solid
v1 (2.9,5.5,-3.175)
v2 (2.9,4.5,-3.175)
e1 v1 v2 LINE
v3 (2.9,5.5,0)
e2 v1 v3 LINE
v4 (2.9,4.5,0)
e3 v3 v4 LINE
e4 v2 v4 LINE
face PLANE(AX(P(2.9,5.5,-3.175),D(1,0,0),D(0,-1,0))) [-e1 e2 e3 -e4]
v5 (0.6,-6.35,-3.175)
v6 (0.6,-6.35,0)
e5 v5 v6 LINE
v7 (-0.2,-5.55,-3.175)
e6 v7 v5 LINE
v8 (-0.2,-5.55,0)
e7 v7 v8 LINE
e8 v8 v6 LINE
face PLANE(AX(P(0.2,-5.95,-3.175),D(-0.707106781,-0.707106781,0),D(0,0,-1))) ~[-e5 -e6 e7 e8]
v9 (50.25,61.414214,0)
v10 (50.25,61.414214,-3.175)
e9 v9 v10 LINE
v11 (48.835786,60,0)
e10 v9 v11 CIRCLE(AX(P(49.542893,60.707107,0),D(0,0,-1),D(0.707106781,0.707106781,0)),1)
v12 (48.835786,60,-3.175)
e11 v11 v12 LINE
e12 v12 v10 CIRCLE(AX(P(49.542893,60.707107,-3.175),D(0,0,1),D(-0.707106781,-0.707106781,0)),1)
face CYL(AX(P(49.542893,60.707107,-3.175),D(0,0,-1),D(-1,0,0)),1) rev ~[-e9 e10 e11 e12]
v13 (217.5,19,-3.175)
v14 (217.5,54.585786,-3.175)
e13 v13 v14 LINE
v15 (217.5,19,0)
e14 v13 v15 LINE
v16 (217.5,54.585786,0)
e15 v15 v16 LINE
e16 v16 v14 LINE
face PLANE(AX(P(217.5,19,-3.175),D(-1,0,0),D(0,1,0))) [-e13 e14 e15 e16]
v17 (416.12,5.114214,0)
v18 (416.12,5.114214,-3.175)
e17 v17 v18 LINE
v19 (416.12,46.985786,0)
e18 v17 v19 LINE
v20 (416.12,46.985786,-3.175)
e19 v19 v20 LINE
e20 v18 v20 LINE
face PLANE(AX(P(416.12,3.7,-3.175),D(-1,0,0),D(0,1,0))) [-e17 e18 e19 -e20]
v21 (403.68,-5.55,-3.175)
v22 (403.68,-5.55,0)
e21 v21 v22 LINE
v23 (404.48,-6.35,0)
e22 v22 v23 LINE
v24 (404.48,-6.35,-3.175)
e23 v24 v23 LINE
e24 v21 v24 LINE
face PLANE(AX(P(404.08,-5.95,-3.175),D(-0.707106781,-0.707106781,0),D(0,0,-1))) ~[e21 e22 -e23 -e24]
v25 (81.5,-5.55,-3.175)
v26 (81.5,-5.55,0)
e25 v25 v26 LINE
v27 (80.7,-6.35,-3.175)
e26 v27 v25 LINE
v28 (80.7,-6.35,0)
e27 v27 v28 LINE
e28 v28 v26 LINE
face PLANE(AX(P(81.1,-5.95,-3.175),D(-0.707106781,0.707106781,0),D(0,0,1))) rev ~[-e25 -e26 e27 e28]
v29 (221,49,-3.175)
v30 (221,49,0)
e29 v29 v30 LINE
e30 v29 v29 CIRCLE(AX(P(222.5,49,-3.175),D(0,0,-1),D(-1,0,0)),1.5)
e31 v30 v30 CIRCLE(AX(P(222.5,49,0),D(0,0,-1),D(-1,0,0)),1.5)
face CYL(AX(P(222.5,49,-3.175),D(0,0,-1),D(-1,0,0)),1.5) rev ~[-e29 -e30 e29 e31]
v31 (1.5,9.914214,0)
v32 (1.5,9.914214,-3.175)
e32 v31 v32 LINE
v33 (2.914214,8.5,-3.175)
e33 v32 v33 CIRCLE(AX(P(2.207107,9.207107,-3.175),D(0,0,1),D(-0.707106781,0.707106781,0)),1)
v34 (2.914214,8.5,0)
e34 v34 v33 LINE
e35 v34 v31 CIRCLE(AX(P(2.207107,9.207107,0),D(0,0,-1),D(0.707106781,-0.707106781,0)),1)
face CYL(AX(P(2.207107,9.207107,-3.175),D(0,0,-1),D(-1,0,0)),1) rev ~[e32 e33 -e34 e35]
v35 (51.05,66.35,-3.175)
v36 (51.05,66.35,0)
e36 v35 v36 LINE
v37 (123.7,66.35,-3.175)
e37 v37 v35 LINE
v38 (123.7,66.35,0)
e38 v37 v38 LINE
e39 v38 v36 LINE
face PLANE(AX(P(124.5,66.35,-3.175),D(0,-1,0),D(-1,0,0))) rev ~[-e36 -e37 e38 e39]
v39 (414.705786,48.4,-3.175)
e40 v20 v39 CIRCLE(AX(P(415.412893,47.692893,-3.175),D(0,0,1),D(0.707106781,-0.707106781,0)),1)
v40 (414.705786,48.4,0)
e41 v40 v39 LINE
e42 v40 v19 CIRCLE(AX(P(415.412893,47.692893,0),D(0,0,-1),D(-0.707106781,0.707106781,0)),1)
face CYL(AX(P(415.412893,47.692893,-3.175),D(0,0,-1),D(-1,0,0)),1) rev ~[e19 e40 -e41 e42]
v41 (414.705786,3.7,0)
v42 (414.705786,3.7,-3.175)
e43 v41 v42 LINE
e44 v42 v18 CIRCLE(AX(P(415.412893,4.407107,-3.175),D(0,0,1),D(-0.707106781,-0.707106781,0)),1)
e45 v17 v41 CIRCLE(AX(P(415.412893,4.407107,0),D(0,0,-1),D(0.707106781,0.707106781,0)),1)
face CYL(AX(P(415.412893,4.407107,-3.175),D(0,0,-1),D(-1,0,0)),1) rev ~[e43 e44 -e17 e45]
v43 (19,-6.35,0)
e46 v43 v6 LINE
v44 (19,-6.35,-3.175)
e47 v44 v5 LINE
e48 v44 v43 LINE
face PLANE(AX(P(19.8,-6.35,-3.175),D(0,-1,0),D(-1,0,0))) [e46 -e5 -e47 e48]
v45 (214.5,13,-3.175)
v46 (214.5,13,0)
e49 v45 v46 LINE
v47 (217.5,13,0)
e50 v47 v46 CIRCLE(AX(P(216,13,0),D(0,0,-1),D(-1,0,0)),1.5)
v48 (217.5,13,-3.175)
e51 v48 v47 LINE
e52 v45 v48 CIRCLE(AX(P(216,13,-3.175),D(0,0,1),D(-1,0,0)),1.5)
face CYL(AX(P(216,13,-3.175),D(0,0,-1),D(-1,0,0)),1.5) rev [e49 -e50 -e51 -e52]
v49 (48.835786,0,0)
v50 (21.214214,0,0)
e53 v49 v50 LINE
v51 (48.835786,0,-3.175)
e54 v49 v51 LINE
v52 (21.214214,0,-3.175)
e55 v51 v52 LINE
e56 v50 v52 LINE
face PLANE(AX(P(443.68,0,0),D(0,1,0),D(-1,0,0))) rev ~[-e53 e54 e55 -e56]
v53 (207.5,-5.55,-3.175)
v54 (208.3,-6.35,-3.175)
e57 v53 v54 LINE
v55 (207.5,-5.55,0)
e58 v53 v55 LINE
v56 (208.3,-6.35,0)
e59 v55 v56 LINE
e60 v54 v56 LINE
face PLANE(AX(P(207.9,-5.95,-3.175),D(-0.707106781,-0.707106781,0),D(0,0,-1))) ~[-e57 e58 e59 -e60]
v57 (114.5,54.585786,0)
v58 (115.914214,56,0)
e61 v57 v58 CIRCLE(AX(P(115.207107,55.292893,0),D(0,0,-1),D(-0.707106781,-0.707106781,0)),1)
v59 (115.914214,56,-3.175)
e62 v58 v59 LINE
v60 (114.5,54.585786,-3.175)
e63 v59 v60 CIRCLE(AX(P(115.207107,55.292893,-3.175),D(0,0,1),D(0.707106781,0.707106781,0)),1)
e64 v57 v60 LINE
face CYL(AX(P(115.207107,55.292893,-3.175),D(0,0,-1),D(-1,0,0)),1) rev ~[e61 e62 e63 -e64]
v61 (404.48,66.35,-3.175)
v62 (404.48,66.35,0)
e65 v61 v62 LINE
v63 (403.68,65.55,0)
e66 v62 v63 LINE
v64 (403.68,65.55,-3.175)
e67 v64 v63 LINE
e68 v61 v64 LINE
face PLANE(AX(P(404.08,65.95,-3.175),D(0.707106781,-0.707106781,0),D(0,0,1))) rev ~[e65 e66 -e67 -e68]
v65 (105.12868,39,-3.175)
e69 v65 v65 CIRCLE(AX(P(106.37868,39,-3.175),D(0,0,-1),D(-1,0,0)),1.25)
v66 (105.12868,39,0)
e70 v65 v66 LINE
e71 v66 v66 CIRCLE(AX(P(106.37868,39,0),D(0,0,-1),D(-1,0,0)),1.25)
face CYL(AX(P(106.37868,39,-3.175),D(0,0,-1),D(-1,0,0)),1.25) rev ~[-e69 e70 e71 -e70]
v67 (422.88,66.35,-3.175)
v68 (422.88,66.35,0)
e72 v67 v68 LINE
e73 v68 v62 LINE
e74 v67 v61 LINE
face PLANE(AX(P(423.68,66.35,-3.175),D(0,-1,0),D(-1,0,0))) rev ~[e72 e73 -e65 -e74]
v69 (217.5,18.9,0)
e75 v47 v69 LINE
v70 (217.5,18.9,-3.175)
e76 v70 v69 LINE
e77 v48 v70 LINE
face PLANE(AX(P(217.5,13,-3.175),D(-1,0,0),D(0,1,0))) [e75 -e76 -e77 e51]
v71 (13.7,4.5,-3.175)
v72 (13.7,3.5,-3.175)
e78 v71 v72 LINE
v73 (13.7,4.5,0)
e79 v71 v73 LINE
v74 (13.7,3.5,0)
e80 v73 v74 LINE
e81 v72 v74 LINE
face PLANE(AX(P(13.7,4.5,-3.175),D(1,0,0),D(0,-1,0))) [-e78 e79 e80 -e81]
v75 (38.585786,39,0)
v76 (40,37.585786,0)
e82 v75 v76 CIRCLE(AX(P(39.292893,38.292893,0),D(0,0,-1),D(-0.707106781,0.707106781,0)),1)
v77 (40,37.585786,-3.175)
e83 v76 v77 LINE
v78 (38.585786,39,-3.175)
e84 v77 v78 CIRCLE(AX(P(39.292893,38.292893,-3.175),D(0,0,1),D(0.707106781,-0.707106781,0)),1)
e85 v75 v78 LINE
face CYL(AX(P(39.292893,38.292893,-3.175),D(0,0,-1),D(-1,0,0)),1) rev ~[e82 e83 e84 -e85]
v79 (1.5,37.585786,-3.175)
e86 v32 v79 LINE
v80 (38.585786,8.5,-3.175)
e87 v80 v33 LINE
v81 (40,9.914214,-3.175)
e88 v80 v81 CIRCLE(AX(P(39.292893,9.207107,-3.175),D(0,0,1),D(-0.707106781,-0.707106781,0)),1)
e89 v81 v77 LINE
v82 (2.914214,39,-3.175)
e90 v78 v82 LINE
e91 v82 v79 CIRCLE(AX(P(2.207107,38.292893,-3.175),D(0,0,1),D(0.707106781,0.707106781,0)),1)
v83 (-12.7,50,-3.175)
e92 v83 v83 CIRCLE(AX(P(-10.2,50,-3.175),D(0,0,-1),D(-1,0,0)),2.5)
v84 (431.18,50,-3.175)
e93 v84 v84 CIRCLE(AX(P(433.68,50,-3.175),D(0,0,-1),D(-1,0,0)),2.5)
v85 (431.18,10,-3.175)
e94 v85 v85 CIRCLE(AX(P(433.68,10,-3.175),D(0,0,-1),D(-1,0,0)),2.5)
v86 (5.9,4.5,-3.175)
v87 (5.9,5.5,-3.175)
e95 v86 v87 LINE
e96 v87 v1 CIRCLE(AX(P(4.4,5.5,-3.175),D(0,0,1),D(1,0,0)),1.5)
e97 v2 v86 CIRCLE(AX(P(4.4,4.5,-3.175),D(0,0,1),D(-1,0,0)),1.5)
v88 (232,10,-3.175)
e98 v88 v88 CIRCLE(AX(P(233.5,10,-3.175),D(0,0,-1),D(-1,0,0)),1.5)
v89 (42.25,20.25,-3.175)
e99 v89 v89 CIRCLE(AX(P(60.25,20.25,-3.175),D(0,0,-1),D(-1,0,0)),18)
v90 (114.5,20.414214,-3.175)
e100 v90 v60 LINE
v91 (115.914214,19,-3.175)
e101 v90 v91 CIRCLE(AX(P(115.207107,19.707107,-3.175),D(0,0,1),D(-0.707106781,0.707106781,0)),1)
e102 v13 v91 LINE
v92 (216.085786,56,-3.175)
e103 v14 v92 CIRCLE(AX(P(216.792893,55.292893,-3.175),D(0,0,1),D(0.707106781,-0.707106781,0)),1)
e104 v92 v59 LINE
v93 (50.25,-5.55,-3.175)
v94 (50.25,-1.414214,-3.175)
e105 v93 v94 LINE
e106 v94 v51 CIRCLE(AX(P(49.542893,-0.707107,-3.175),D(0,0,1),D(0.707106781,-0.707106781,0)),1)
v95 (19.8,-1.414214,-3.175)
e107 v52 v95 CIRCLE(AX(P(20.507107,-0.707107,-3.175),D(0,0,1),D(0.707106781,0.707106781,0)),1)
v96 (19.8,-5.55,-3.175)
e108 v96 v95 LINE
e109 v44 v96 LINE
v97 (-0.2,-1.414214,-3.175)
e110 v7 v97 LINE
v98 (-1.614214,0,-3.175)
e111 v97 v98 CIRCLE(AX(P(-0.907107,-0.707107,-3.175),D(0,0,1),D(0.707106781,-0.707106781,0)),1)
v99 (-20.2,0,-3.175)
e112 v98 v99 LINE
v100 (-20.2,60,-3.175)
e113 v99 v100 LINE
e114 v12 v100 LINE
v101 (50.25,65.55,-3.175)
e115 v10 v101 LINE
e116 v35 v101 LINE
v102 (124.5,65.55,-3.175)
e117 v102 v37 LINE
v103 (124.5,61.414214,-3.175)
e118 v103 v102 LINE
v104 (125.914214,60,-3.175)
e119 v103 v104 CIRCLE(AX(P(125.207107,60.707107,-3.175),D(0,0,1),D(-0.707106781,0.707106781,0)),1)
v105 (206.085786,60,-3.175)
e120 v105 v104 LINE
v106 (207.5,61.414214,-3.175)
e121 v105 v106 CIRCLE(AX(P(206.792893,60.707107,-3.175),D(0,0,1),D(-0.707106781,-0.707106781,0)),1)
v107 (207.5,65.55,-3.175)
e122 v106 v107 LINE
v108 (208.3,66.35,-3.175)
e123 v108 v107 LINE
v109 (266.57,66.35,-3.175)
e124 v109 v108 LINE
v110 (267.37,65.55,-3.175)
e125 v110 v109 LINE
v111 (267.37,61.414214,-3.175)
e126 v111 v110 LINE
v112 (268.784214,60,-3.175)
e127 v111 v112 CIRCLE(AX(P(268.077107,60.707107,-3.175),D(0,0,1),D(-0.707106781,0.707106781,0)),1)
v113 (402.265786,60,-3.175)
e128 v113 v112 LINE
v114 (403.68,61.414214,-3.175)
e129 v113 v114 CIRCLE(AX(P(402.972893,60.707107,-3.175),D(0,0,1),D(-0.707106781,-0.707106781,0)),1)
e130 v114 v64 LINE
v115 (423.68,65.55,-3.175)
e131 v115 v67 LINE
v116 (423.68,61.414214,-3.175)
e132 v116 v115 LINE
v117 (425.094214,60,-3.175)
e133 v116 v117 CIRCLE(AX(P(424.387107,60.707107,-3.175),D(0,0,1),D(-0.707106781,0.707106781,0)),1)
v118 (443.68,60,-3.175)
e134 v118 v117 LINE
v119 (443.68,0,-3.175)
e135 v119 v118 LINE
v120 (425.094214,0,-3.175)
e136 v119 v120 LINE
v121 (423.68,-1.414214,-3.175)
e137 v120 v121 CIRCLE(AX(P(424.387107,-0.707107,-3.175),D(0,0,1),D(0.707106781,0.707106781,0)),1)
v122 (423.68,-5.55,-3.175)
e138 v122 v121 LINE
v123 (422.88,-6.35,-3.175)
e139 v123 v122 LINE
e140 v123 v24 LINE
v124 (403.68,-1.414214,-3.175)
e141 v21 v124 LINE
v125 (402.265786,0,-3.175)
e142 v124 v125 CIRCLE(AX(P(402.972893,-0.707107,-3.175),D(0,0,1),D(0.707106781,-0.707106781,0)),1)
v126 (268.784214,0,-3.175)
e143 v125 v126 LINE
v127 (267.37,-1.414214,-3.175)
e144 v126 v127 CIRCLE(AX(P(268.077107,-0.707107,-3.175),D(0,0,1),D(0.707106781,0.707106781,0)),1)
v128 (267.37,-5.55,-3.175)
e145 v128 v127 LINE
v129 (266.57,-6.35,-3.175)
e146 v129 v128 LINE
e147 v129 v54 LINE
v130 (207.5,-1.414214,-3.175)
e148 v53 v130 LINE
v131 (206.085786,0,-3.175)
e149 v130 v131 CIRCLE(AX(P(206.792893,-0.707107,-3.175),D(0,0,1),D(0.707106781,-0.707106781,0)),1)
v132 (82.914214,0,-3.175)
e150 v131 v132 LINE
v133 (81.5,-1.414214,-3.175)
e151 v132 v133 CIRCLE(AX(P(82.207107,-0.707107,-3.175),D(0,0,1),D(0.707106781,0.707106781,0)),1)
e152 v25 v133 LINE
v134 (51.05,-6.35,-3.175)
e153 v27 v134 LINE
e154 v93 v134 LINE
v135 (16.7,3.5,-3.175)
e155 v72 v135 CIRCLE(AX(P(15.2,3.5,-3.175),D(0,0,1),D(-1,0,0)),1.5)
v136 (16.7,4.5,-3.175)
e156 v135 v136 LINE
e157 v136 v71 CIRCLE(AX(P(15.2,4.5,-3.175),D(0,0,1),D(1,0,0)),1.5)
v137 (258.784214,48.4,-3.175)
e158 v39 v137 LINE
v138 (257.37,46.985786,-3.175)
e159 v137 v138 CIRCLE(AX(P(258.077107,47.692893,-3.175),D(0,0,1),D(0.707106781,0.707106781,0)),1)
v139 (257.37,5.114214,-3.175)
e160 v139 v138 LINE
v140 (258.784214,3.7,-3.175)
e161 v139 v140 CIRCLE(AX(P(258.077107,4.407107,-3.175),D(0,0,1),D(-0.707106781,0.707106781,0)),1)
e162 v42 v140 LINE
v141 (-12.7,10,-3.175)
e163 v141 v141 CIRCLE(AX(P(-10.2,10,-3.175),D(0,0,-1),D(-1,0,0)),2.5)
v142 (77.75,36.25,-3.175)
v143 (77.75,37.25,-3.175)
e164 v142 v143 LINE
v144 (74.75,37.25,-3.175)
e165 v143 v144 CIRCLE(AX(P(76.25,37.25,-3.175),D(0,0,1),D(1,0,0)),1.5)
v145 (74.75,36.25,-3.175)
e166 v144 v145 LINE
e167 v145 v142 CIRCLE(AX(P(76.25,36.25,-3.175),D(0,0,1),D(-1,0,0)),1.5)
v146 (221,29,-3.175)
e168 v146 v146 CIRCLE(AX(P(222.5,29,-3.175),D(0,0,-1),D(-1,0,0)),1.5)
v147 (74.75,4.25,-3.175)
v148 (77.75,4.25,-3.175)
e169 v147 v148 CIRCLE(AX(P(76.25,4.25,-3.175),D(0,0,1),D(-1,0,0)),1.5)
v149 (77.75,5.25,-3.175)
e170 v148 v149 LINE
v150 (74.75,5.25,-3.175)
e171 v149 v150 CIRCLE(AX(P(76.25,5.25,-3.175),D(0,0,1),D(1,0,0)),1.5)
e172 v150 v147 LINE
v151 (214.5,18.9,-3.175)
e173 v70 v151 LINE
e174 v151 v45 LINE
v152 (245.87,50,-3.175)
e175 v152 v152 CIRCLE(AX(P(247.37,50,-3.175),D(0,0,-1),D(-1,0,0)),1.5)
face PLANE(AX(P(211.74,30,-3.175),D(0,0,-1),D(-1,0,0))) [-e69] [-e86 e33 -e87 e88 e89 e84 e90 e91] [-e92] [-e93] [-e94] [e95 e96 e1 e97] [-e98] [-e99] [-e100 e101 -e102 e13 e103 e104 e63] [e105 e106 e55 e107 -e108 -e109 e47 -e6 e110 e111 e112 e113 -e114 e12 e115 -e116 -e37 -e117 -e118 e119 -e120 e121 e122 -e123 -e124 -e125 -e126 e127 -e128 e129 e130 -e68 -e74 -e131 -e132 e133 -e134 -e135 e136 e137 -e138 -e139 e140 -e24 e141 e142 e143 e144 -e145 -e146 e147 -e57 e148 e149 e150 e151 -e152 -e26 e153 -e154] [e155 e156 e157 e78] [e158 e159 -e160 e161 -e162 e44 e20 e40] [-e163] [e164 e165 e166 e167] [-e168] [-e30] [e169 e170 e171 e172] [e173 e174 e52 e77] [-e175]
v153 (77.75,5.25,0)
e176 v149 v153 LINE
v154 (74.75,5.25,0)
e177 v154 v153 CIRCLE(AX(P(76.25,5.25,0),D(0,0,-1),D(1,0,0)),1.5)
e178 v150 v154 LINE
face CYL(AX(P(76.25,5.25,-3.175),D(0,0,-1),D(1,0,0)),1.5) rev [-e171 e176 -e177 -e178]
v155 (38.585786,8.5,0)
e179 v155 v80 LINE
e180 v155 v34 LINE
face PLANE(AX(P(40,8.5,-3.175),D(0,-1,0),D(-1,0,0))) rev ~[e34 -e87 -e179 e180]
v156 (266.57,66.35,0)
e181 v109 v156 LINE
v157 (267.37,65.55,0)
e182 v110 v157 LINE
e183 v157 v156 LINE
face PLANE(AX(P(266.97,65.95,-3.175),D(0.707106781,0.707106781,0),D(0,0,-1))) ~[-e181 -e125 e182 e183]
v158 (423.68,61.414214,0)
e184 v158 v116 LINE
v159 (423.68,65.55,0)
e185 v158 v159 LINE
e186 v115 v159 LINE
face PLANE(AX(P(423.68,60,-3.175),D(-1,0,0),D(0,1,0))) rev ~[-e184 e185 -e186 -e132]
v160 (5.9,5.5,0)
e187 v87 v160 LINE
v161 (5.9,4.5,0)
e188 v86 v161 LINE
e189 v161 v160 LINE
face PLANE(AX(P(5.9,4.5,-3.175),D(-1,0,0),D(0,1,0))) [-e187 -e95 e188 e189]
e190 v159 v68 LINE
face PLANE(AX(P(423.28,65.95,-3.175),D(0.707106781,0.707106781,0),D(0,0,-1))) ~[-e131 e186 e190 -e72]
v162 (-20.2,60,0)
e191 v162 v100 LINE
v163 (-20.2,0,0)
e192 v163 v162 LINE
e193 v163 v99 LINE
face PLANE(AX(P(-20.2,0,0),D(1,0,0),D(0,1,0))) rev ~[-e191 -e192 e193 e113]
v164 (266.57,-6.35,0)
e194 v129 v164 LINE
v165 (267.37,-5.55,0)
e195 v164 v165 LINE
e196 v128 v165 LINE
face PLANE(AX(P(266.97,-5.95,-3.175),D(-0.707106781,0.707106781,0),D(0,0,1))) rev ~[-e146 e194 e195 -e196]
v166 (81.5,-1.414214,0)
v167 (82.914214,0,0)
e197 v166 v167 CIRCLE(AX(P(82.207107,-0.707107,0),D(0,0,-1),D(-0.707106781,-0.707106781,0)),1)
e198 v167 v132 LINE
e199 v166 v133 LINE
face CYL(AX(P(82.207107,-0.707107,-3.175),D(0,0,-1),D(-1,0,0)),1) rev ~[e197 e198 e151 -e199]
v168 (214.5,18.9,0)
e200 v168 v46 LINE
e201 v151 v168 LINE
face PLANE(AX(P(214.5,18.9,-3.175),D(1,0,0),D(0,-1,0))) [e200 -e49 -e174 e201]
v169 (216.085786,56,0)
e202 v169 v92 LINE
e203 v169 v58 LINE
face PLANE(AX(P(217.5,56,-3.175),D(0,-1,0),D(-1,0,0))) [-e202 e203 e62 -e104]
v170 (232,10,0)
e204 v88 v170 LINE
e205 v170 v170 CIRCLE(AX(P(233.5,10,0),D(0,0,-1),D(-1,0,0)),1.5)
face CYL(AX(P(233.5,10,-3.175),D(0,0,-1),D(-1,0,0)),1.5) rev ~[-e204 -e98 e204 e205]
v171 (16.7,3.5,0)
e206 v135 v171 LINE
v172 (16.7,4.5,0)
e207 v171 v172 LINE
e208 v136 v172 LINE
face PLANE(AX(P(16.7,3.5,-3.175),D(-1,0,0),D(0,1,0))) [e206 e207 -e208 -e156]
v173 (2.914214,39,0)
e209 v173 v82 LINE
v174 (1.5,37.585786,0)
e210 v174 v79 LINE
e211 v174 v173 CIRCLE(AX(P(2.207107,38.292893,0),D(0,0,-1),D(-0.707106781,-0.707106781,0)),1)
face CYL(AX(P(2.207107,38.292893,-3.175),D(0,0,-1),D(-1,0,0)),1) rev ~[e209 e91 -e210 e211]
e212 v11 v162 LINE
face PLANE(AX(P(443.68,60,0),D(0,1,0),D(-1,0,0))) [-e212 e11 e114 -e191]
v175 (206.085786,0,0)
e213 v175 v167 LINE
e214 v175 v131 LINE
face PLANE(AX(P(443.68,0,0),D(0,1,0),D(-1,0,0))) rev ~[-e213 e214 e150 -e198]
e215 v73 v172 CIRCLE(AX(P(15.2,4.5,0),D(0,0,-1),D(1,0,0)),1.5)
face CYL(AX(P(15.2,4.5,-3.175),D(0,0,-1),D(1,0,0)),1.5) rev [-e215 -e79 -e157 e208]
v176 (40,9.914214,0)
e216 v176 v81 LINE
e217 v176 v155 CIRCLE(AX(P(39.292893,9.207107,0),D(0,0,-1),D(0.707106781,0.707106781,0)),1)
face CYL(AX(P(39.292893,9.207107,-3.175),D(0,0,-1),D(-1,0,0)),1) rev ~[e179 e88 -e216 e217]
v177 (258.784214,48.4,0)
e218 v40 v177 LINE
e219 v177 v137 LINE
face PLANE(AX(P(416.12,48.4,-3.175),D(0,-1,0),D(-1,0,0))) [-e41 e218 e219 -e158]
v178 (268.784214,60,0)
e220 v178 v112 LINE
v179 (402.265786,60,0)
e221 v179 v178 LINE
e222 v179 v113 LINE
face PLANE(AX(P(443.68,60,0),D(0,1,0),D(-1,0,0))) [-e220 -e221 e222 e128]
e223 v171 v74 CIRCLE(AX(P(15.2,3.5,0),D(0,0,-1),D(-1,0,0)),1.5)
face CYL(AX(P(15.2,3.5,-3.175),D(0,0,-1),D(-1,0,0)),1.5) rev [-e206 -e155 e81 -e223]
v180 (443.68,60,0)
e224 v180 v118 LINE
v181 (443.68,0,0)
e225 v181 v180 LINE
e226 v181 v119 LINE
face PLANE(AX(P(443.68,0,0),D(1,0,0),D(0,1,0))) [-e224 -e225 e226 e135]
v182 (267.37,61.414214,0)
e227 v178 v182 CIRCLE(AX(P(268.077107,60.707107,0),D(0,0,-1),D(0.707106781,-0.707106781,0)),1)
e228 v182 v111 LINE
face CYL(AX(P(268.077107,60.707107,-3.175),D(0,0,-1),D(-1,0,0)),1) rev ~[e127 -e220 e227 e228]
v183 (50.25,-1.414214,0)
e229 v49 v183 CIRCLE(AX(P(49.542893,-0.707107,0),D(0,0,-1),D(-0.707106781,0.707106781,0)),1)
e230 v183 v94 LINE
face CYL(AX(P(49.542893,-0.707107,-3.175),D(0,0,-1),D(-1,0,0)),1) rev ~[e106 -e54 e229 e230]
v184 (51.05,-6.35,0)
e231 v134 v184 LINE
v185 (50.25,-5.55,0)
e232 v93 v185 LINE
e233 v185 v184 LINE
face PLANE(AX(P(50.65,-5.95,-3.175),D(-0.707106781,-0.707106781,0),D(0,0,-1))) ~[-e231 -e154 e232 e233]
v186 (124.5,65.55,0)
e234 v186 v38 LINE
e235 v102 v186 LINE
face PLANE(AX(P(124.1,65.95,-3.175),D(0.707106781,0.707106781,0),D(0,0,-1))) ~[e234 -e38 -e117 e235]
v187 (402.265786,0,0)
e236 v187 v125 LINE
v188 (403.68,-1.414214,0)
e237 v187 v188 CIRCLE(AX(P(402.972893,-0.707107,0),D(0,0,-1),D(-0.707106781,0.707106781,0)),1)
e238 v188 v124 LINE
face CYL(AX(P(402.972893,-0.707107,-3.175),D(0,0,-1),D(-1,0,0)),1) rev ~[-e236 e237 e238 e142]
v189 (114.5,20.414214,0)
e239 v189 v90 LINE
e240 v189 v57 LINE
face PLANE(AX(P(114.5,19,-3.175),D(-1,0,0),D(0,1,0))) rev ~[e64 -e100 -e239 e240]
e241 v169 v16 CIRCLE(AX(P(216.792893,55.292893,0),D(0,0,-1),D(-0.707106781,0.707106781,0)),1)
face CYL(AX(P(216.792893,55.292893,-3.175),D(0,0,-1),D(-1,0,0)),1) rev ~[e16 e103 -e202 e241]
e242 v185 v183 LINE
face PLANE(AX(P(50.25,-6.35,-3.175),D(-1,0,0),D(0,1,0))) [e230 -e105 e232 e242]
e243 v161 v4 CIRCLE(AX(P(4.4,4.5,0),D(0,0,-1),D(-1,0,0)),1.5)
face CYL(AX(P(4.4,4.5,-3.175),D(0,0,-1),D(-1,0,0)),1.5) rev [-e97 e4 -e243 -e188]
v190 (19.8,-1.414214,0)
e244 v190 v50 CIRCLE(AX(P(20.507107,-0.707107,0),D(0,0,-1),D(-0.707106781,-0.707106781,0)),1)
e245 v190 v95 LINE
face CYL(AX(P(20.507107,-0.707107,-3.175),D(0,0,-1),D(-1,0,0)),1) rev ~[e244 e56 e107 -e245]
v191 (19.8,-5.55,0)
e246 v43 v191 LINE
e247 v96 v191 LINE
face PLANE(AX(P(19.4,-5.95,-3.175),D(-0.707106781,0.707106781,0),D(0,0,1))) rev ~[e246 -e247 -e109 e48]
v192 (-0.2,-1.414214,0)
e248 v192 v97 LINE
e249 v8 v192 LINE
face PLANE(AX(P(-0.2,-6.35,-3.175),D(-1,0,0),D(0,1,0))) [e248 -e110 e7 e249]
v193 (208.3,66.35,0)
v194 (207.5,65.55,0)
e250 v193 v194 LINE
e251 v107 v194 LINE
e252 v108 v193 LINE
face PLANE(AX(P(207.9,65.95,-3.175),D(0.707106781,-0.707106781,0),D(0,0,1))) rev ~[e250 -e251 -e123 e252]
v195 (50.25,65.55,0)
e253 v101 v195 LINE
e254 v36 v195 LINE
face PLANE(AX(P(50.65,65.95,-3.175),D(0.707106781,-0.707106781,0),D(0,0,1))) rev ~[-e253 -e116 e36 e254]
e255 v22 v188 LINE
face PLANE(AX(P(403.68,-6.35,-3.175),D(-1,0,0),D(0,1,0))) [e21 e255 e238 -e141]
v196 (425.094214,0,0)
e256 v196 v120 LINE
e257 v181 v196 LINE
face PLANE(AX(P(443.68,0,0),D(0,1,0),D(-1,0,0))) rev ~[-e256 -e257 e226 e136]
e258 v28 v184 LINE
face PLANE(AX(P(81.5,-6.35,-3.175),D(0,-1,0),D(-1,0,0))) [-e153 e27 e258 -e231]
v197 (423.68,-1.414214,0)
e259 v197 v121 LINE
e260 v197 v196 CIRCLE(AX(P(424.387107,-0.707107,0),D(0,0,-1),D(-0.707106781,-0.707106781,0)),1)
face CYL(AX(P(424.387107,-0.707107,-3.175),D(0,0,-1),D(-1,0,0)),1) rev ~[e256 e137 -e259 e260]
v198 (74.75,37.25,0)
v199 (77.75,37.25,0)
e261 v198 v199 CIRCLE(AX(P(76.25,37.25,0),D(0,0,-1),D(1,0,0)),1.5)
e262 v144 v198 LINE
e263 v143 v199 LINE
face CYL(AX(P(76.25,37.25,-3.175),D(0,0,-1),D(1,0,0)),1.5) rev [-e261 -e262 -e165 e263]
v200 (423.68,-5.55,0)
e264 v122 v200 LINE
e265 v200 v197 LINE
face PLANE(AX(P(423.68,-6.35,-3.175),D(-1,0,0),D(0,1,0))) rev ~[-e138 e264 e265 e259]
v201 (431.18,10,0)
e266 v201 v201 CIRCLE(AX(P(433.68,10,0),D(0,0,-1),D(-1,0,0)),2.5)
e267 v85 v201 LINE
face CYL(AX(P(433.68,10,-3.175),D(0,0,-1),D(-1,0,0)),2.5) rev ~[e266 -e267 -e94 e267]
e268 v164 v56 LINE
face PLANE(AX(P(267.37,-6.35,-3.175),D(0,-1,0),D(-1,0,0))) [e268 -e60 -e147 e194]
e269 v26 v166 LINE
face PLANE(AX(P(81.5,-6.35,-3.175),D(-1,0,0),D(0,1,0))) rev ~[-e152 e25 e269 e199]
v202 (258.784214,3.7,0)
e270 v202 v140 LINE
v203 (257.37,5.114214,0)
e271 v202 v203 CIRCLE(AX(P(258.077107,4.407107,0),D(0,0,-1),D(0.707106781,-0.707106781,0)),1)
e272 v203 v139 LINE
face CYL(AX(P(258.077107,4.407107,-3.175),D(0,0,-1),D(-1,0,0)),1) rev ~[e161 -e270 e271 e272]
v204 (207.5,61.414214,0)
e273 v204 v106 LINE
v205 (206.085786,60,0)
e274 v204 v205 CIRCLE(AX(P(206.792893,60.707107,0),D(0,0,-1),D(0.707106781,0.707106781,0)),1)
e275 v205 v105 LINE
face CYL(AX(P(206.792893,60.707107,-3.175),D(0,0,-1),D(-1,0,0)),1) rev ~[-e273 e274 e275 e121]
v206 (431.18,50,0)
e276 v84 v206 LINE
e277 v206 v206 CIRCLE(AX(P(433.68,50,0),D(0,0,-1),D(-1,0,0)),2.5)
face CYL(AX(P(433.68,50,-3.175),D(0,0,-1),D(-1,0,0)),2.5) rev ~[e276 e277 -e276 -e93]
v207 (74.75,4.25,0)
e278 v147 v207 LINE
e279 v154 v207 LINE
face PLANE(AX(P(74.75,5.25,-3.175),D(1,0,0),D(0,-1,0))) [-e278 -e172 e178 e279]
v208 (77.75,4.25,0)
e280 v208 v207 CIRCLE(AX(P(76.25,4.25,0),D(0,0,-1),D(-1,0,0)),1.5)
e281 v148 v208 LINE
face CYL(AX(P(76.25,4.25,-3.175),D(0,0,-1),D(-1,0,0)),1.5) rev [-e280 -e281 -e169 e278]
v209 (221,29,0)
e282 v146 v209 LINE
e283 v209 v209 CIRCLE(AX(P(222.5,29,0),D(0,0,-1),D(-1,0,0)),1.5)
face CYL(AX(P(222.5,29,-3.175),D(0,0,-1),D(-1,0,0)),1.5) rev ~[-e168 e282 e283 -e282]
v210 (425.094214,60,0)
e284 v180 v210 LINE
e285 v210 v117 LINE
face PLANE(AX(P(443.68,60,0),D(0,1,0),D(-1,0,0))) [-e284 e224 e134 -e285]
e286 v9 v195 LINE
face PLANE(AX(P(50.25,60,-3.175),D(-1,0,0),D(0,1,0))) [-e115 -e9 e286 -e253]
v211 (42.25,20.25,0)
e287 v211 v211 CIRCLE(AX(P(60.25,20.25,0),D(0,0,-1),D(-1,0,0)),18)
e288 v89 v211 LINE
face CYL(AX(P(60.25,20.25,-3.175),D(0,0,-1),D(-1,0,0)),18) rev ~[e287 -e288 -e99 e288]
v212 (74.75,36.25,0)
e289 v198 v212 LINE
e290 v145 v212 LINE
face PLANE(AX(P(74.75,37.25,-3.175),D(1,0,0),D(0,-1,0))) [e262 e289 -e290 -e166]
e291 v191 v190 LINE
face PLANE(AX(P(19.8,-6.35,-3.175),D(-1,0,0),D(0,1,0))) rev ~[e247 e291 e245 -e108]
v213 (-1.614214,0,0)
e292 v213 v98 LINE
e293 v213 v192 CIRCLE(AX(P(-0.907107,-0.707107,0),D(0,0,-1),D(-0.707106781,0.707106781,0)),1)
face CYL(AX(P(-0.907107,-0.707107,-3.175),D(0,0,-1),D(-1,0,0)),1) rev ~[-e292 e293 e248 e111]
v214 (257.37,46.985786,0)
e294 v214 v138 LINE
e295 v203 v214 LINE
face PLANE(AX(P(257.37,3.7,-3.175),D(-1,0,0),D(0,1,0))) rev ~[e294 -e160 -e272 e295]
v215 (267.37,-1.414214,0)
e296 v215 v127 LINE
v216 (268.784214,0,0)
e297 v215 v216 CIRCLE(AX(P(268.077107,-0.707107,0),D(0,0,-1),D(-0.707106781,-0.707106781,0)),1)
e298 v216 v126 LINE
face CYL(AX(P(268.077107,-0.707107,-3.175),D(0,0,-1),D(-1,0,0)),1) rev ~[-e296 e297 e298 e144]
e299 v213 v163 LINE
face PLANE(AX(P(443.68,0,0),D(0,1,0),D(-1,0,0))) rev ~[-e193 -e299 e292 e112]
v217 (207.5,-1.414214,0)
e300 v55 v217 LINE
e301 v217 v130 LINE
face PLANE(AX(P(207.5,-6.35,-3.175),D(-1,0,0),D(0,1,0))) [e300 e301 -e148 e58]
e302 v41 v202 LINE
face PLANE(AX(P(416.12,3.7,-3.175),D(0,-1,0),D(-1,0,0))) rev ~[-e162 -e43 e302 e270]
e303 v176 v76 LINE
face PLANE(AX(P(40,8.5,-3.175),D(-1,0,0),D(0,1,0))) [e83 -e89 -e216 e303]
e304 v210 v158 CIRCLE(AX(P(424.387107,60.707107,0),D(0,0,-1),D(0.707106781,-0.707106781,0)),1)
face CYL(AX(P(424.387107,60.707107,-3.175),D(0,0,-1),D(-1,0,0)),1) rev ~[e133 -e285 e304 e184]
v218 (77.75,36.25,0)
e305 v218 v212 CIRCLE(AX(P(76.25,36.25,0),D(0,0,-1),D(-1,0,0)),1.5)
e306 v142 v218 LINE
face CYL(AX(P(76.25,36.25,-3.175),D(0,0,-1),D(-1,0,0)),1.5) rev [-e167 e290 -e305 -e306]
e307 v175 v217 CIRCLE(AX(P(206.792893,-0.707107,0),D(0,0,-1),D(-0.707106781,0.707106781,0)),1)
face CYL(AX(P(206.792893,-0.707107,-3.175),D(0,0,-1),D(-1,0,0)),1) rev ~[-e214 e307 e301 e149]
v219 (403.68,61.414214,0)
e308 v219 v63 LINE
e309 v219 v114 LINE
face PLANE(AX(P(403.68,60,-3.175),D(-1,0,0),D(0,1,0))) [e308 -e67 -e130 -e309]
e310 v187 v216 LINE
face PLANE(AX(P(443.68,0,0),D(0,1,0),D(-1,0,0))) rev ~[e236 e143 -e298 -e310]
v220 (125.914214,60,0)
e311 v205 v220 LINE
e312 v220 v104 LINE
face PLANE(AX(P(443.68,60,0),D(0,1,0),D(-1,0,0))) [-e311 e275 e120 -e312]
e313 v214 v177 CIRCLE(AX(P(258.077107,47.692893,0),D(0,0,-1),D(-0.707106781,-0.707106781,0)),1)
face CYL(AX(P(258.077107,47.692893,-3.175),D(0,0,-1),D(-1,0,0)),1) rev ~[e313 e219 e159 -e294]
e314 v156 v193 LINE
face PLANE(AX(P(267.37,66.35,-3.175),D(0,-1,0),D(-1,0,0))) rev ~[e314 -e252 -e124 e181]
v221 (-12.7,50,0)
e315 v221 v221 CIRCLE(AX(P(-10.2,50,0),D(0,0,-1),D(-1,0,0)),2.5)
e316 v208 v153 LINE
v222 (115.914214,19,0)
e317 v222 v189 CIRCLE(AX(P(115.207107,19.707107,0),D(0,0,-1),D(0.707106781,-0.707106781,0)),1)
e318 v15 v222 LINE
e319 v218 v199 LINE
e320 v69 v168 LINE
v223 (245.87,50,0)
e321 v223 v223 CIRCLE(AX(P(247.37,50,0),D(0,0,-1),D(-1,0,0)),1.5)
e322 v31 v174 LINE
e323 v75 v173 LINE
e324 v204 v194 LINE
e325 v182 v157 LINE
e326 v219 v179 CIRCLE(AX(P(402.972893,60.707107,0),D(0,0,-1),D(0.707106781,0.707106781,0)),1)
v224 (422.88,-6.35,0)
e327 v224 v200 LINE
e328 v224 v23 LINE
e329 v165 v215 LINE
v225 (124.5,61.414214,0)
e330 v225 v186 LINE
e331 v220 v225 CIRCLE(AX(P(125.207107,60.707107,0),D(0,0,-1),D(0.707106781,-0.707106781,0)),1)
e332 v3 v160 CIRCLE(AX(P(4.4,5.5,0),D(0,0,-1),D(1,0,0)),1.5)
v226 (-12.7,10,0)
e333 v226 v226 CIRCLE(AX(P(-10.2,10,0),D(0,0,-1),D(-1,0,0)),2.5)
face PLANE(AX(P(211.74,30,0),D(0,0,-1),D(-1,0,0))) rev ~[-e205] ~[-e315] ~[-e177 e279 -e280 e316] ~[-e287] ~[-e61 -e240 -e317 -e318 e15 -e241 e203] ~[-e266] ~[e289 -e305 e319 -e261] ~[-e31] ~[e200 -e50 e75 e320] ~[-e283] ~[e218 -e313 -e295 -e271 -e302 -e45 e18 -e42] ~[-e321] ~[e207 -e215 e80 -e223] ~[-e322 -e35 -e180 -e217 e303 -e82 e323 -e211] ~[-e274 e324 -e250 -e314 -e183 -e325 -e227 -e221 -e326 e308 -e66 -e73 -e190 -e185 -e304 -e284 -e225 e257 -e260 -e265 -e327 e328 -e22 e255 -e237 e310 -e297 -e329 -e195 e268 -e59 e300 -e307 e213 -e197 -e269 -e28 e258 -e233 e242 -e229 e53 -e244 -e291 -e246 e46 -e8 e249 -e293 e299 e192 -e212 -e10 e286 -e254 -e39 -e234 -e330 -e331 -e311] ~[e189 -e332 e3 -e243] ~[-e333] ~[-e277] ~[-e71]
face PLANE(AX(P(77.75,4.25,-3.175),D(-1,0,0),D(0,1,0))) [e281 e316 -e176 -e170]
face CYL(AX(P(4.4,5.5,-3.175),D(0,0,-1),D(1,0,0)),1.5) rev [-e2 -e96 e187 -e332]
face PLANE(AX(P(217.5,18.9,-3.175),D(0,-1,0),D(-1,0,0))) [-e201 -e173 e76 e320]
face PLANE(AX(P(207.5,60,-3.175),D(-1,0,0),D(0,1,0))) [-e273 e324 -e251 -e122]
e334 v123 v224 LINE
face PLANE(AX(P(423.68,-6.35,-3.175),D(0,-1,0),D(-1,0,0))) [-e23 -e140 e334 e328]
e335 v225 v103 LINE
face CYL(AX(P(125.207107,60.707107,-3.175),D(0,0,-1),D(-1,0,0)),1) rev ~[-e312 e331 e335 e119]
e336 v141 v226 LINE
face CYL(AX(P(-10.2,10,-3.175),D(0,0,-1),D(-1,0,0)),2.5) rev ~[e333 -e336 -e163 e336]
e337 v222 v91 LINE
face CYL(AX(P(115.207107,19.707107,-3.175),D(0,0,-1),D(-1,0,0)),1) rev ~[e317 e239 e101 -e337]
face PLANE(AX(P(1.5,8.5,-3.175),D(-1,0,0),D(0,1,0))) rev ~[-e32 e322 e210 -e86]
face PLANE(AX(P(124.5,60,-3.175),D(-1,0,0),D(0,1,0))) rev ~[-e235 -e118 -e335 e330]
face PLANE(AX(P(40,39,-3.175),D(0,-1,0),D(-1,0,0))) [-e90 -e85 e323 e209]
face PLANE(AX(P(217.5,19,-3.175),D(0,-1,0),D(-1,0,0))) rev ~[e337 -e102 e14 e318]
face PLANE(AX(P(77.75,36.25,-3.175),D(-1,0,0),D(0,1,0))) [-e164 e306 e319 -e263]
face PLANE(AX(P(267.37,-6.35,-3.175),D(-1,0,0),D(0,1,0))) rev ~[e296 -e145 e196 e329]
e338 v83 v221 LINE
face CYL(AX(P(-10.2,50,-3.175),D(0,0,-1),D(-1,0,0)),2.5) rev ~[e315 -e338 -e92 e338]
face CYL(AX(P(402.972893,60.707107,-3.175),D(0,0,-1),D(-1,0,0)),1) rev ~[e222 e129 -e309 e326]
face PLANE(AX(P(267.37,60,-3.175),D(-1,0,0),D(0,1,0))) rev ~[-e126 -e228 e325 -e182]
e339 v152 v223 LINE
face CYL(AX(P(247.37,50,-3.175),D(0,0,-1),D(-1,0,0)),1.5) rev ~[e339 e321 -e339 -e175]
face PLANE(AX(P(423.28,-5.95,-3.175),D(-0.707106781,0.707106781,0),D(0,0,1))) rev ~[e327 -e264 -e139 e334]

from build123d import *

# Parameters (mm, degrees)
SKETCH1_W           = 463.88
SKETCH1_H           = 60
BOSS_EXTRUDE1_DEPTH = 3.175
SKETCH7_R           = 2.5
CUT_EXTRUDE5_DEPTH  = 448.729854963
SKETCH2_R           = 1.25
SKETCH2_R_2         = 1.5
SKETCH2_W           = 103
SKETCH2_H           = 37
CUT_EXTRUDE1_DEPTH  = 448.729854963
SKETCH3_W           = 158.75
SKETCH3_H           = 44.7
CUT_EXTRUDE2_DEPTH  = 448.729854963
SKETCH4_R           = 18
SKETCH4_W           = 38.5
SKETCH4_H           = 30.5
CUT_EXTRUDE3_DEPTH  = 448.729854963
SKETCH5_W           = 31.25
SKETCH5_H           = 6.35
SKETCH5_W_2         = 20
SKETCH5_W_3         = 74.25
SKETCH5_W_4         = 59.87
BOSS_EXTRUDE2_DEPTH = 3.175
SKETCH6_R           = 1.5
CUT_EXTRUDE4_DEPTH  = 449.624949735
SKETCH8_R           = 1
CUT_EXTRUDE7_DEPTH  = 449.624949735
CHAMFER2_SIZE       = 0.8


with BuildPart() as part:
    # Sketch1 → Boss-Extrude1 (new body)
    with BuildSketch(Plane(origin=(0, 0, 0), x_dir=(-1, 0, 0), z_dir=(0, 0, -1))):
        with Locations((-211.74, 30)):
            Rectangle(SKETCH1_W, SKETCH1_H)
    extrude(amount=BOSS_EXTRUDE1_DEPTH)

    # Sketch7 → Cut-Extrude5 (cut, through all)
    with BuildSketch(Plane(origin=(0, 0, -3.175), x_dir=(-1, 0, 0), z_dir=(0, 0, -1))):
        with Locations((-433.68, 50)):
            Circle(SKETCH7_R)
        with Locations((-433.68, 10)):
            Circle(SKETCH7_R)
        with Locations((10.2, 10)):
            Circle(SKETCH7_R)
        with Locations((10.2, 50)):
            Circle(SKETCH7_R)
    extrude(amount=-CUT_EXTRUDE5_DEPTH, mode=Mode.SUBTRACT)

    # Sketch2 → Cut-Extrude1 (cut, through all)
    with BuildSketch(Plane(origin=(0, 0, -3.175), x_dir=(-1, 0, 0), z_dir=(0, 0, -1))):
        with Locations((-106.378679656, 39)):
            Circle(SKETCH2_R)
        with Locations((-222.5, 49)):
            Circle(SKETCH2_R_2)
        with Locations((-222.5, 29)):
            Circle(SKETCH2_R_2)
        with Locations((-166, 37.5)):
            Rectangle(SKETCH2_W, SKETCH2_H)
        with BuildLine():
            Line((-217.5, 13), (-217.5, 18.9))
            Line((-217.5, 18.9), (-214.5, 18.9))
            Line((-214.5, 18.9), (-214.5, 13))
            ThreePointArc((-214.5, 13), (-216, 11.5), (-217.5, 13))
        make_face()
    extrude(amount=-CUT_EXTRUDE1_DEPTH, mode=Mode.SUBTRACT)

    # Sketch3 → Cut-Extrude2 (cut, through all)
    with BuildSketch(Plane(origin=(0, 0, -3.175), x_dir=(-1, 0, 0), z_dir=(0, 0, -1))):
        with Locations((-336.745, 26.05)):
            Rectangle(SKETCH3_W, SKETCH3_H)
    extrude(amount=-CUT_EXTRUDE2_DEPTH, mode=Mode.SUBTRACT)

    # Sketch4 → Cut-Extrude3 (cut, through all)
    with BuildSketch(Plane(origin=(0, 0, -3.175), x_dir=(-1, 0, 0), z_dir=(0, 0, -1))):
        with Locations((-60.25, 20.25)):
            Circle(SKETCH4_R)
        with BuildLine():
            Line((-77.75, 4.25), (-77.75, 5.25))
            ThreePointArc((-77.75, 5.25), (-76.25, 6.75), (-74.75, 5.25))
            Line((-74.75, 5.25), (-74.75, 4.25))
            ThreePointArc((-74.75, 4.25), (-76.25, 2.75), (-77.75, 4.25))
        make_face()
        with BuildLine():
            Line((-77.75, 36.25), (-77.75, 37.25))
            ThreePointArc((-77.75, 37.25), (-76.25, 38.75), (-74.75, 37.25))
            Line((-74.75, 37.25), (-74.75, 36.25))
            ThreePointArc((-74.75, 36.25), (-76.25, 34.75), (-77.75, 36.25))
        make_face()
        with BuildLine():
            Line((-16.7, 3.5), (-16.7, 4.5))
            ThreePointArc((-16.7, 4.5), (-15.2, 6), (-13.7, 4.5))
            Line((-13.7, 4.5), (-13.7, 3.5))
            ThreePointArc((-13.7, 3.5), (-15.2, 2), (-16.7, 3.5))
        make_face()
        with BuildLine():
            Line((-5.9, 4.5), (-5.9, 5.5))
            ThreePointArc((-5.9, 5.5), (-4.4, 7), (-2.9, 5.5))
            Line((-2.9, 5.5), (-2.9, 4.5))
            ThreePointArc((-2.9, 4.5), (-4.4, 3), (-5.9, 4.5))
        make_face()
        with Locations((-20.75, 23.75)):
            Rectangle(SKETCH4_W, SKETCH4_H)
    extrude(amount=-CUT_EXTRUDE3_DEPTH, mode=Mode.SUBTRACT)

    # Sketch5 → Boss-Extrude2 (add)
    with BuildSketch(Plane(origin=(0, 0, -3.175), x_dir=(-1, 0, 0), z_dir=(0, 0, -1))):
        with Locations((-65.875, -3.175)):
            Rectangle(SKETCH5_W, SKETCH5_H)
        with Locations((-9.8, -3.175)):
            Rectangle(SKETCH5_W_2, SKETCH5_H)
        with Locations((-87.375, 63.175)):
            Rectangle(SKETCH5_W_3, SKETCH5_H)
        with Locations((-237.435, 63.175)):
            Rectangle(SKETCH5_W_4, SKETCH5_H)
        with Locations((-237.435, -3.175)):
            Rectangle(SKETCH5_W_4, SKETCH5_H)
        with Locations((-413.68, 63.175)):
            Rectangle(SKETCH5_W_2, SKETCH5_H)
        with Locations((-413.68, -3.175)):
            Rectangle(SKETCH5_W_2, SKETCH5_H)
    extrude(amount=-BOSS_EXTRUDE2_DEPTH)

    # Sketch6 → Cut-Extrude4 (cut, through all)
    with BuildSketch(Plane(origin=(0, 0, -3.175), x_dir=(-1, 0, 0), z_dir=(0, 0, -1))):
        with Locations((-247.37, 50)):
            Circle(SKETCH6_R)
        with Locations((-233.5, 10)):
            Circle(SKETCH6_R)
    extrude(amount=-CUT_EXTRUDE4_DEPTH, mode=Mode.SUBTRACT)

    # Sketch8 → Cut-Extrude7 (cut, through all)
    with BuildSketch(Plane(origin=(0, 0, -3.175), x_dir=(-1, 0, 0), z_dir=(0, 0, -1))):
        with Locations((-415.412893219, 47.692893219)):
            Circle(SKETCH8_R)
        with Locations((-258.077106781, 47.692893219)):
            Circle(SKETCH8_R)
        with Locations((-258.077106781, 4.407106781)):
            Circle(SKETCH8_R)
        with Locations((-415.412893219, 4.407106781)):
            Circle(SKETCH8_R)
        with Locations((-216.792893219, 55.292893219)):
            Circle(SKETCH8_R)
        with Locations((-115.207106781, 55.292893219)):
            Circle(SKETCH8_R)
        with Locations((-115.207106781, 19.707106781)):
            Circle(SKETCH8_R)
        with Locations((-424.387106781, 60.707106781)):
            Circle(SKETCH8_R)
        with Locations((-402.972893219, 60.707106781)):
            Circle(SKETCH8_R)
        with Locations((-268.077106781, 60.707106781)):
            Circle(SKETCH8_R)
        with Locations((-206.792893219, 60.707106781)):
            Circle(SKETCH8_R)
        with Locations((-125.207106781, 60.707106781)):
            Circle(SKETCH8_R)
        with Locations((-49.542893219, 60.707106781)):
            Circle(SKETCH8_R)
        with Locations((0.907106781, -0.707106781)):
            Circle(SKETCH8_R)
        with Locations((-20.507106781, -0.707106781)):
            Circle(SKETCH8_R)
        with Locations((-49.542893219, -0.707106781)):
            Circle(SKETCH8_R)
        with Locations((-82.207106781, -0.707106781)):
            Circle(SKETCH8_R)
        with Locations((-206.792893219, -0.707106781)):
            Circle(SKETCH8_R)
        with Locations((-268.077106781, -0.707106781)):
            Circle(SKETCH8_R)
        with Locations((-402.972893219, -0.707106781)):
            Circle(SKETCH8_R)
        with Locations((-424.387106781, -0.707106781)):
            Circle(SKETCH8_R)
        with Locations((-39.292893219, 38.292893219)):
            Circle(SKETCH8_R)
        with Locations((-2.207106781, 38.292893219)):
            Circle(SKETCH8_R)
        with Locations((-39.292893219, 9.207106781)):
            Circle(SKETCH8_R)
        with Locations((-2.207106781, 9.207106781)):
            Circle(SKETCH8_R)
    extrude(amount=-CUT_EXTRUDE7_DEPTH, mode=Mode.SUBTRACT)

    # Chamfer2
    chamfer2_edges = [part.edges().sort_by_distance(p)[0] for p in [
        (81.5, -6.35, -1.5875),
        (50.25, -6.35, -1.5875),
        (19.8, -6.35, -1.5875),
        (-0.2, -6.35, -1.5875),
        (124.5, 66.35, -1.5875),
        (50.25, 66.35, -1.5875),
        (267.37, 66.35, -1.5875),
        (207.5, 66.35, -1.5875),
        (267.37, -6.35, -1.5875),
        (207.5, -6.35, -1.5875),
        (423.68, -6.35, -1.5875),
        (403.68, -6.35, -1.5875),
        (403.68, 66.35, -1.5875),
        (423.68, 66.35, -1.5875),
    ]]
    chamfer(chamfer2_edges, length=CHAMFER2_SIZE)


solid = part.part
